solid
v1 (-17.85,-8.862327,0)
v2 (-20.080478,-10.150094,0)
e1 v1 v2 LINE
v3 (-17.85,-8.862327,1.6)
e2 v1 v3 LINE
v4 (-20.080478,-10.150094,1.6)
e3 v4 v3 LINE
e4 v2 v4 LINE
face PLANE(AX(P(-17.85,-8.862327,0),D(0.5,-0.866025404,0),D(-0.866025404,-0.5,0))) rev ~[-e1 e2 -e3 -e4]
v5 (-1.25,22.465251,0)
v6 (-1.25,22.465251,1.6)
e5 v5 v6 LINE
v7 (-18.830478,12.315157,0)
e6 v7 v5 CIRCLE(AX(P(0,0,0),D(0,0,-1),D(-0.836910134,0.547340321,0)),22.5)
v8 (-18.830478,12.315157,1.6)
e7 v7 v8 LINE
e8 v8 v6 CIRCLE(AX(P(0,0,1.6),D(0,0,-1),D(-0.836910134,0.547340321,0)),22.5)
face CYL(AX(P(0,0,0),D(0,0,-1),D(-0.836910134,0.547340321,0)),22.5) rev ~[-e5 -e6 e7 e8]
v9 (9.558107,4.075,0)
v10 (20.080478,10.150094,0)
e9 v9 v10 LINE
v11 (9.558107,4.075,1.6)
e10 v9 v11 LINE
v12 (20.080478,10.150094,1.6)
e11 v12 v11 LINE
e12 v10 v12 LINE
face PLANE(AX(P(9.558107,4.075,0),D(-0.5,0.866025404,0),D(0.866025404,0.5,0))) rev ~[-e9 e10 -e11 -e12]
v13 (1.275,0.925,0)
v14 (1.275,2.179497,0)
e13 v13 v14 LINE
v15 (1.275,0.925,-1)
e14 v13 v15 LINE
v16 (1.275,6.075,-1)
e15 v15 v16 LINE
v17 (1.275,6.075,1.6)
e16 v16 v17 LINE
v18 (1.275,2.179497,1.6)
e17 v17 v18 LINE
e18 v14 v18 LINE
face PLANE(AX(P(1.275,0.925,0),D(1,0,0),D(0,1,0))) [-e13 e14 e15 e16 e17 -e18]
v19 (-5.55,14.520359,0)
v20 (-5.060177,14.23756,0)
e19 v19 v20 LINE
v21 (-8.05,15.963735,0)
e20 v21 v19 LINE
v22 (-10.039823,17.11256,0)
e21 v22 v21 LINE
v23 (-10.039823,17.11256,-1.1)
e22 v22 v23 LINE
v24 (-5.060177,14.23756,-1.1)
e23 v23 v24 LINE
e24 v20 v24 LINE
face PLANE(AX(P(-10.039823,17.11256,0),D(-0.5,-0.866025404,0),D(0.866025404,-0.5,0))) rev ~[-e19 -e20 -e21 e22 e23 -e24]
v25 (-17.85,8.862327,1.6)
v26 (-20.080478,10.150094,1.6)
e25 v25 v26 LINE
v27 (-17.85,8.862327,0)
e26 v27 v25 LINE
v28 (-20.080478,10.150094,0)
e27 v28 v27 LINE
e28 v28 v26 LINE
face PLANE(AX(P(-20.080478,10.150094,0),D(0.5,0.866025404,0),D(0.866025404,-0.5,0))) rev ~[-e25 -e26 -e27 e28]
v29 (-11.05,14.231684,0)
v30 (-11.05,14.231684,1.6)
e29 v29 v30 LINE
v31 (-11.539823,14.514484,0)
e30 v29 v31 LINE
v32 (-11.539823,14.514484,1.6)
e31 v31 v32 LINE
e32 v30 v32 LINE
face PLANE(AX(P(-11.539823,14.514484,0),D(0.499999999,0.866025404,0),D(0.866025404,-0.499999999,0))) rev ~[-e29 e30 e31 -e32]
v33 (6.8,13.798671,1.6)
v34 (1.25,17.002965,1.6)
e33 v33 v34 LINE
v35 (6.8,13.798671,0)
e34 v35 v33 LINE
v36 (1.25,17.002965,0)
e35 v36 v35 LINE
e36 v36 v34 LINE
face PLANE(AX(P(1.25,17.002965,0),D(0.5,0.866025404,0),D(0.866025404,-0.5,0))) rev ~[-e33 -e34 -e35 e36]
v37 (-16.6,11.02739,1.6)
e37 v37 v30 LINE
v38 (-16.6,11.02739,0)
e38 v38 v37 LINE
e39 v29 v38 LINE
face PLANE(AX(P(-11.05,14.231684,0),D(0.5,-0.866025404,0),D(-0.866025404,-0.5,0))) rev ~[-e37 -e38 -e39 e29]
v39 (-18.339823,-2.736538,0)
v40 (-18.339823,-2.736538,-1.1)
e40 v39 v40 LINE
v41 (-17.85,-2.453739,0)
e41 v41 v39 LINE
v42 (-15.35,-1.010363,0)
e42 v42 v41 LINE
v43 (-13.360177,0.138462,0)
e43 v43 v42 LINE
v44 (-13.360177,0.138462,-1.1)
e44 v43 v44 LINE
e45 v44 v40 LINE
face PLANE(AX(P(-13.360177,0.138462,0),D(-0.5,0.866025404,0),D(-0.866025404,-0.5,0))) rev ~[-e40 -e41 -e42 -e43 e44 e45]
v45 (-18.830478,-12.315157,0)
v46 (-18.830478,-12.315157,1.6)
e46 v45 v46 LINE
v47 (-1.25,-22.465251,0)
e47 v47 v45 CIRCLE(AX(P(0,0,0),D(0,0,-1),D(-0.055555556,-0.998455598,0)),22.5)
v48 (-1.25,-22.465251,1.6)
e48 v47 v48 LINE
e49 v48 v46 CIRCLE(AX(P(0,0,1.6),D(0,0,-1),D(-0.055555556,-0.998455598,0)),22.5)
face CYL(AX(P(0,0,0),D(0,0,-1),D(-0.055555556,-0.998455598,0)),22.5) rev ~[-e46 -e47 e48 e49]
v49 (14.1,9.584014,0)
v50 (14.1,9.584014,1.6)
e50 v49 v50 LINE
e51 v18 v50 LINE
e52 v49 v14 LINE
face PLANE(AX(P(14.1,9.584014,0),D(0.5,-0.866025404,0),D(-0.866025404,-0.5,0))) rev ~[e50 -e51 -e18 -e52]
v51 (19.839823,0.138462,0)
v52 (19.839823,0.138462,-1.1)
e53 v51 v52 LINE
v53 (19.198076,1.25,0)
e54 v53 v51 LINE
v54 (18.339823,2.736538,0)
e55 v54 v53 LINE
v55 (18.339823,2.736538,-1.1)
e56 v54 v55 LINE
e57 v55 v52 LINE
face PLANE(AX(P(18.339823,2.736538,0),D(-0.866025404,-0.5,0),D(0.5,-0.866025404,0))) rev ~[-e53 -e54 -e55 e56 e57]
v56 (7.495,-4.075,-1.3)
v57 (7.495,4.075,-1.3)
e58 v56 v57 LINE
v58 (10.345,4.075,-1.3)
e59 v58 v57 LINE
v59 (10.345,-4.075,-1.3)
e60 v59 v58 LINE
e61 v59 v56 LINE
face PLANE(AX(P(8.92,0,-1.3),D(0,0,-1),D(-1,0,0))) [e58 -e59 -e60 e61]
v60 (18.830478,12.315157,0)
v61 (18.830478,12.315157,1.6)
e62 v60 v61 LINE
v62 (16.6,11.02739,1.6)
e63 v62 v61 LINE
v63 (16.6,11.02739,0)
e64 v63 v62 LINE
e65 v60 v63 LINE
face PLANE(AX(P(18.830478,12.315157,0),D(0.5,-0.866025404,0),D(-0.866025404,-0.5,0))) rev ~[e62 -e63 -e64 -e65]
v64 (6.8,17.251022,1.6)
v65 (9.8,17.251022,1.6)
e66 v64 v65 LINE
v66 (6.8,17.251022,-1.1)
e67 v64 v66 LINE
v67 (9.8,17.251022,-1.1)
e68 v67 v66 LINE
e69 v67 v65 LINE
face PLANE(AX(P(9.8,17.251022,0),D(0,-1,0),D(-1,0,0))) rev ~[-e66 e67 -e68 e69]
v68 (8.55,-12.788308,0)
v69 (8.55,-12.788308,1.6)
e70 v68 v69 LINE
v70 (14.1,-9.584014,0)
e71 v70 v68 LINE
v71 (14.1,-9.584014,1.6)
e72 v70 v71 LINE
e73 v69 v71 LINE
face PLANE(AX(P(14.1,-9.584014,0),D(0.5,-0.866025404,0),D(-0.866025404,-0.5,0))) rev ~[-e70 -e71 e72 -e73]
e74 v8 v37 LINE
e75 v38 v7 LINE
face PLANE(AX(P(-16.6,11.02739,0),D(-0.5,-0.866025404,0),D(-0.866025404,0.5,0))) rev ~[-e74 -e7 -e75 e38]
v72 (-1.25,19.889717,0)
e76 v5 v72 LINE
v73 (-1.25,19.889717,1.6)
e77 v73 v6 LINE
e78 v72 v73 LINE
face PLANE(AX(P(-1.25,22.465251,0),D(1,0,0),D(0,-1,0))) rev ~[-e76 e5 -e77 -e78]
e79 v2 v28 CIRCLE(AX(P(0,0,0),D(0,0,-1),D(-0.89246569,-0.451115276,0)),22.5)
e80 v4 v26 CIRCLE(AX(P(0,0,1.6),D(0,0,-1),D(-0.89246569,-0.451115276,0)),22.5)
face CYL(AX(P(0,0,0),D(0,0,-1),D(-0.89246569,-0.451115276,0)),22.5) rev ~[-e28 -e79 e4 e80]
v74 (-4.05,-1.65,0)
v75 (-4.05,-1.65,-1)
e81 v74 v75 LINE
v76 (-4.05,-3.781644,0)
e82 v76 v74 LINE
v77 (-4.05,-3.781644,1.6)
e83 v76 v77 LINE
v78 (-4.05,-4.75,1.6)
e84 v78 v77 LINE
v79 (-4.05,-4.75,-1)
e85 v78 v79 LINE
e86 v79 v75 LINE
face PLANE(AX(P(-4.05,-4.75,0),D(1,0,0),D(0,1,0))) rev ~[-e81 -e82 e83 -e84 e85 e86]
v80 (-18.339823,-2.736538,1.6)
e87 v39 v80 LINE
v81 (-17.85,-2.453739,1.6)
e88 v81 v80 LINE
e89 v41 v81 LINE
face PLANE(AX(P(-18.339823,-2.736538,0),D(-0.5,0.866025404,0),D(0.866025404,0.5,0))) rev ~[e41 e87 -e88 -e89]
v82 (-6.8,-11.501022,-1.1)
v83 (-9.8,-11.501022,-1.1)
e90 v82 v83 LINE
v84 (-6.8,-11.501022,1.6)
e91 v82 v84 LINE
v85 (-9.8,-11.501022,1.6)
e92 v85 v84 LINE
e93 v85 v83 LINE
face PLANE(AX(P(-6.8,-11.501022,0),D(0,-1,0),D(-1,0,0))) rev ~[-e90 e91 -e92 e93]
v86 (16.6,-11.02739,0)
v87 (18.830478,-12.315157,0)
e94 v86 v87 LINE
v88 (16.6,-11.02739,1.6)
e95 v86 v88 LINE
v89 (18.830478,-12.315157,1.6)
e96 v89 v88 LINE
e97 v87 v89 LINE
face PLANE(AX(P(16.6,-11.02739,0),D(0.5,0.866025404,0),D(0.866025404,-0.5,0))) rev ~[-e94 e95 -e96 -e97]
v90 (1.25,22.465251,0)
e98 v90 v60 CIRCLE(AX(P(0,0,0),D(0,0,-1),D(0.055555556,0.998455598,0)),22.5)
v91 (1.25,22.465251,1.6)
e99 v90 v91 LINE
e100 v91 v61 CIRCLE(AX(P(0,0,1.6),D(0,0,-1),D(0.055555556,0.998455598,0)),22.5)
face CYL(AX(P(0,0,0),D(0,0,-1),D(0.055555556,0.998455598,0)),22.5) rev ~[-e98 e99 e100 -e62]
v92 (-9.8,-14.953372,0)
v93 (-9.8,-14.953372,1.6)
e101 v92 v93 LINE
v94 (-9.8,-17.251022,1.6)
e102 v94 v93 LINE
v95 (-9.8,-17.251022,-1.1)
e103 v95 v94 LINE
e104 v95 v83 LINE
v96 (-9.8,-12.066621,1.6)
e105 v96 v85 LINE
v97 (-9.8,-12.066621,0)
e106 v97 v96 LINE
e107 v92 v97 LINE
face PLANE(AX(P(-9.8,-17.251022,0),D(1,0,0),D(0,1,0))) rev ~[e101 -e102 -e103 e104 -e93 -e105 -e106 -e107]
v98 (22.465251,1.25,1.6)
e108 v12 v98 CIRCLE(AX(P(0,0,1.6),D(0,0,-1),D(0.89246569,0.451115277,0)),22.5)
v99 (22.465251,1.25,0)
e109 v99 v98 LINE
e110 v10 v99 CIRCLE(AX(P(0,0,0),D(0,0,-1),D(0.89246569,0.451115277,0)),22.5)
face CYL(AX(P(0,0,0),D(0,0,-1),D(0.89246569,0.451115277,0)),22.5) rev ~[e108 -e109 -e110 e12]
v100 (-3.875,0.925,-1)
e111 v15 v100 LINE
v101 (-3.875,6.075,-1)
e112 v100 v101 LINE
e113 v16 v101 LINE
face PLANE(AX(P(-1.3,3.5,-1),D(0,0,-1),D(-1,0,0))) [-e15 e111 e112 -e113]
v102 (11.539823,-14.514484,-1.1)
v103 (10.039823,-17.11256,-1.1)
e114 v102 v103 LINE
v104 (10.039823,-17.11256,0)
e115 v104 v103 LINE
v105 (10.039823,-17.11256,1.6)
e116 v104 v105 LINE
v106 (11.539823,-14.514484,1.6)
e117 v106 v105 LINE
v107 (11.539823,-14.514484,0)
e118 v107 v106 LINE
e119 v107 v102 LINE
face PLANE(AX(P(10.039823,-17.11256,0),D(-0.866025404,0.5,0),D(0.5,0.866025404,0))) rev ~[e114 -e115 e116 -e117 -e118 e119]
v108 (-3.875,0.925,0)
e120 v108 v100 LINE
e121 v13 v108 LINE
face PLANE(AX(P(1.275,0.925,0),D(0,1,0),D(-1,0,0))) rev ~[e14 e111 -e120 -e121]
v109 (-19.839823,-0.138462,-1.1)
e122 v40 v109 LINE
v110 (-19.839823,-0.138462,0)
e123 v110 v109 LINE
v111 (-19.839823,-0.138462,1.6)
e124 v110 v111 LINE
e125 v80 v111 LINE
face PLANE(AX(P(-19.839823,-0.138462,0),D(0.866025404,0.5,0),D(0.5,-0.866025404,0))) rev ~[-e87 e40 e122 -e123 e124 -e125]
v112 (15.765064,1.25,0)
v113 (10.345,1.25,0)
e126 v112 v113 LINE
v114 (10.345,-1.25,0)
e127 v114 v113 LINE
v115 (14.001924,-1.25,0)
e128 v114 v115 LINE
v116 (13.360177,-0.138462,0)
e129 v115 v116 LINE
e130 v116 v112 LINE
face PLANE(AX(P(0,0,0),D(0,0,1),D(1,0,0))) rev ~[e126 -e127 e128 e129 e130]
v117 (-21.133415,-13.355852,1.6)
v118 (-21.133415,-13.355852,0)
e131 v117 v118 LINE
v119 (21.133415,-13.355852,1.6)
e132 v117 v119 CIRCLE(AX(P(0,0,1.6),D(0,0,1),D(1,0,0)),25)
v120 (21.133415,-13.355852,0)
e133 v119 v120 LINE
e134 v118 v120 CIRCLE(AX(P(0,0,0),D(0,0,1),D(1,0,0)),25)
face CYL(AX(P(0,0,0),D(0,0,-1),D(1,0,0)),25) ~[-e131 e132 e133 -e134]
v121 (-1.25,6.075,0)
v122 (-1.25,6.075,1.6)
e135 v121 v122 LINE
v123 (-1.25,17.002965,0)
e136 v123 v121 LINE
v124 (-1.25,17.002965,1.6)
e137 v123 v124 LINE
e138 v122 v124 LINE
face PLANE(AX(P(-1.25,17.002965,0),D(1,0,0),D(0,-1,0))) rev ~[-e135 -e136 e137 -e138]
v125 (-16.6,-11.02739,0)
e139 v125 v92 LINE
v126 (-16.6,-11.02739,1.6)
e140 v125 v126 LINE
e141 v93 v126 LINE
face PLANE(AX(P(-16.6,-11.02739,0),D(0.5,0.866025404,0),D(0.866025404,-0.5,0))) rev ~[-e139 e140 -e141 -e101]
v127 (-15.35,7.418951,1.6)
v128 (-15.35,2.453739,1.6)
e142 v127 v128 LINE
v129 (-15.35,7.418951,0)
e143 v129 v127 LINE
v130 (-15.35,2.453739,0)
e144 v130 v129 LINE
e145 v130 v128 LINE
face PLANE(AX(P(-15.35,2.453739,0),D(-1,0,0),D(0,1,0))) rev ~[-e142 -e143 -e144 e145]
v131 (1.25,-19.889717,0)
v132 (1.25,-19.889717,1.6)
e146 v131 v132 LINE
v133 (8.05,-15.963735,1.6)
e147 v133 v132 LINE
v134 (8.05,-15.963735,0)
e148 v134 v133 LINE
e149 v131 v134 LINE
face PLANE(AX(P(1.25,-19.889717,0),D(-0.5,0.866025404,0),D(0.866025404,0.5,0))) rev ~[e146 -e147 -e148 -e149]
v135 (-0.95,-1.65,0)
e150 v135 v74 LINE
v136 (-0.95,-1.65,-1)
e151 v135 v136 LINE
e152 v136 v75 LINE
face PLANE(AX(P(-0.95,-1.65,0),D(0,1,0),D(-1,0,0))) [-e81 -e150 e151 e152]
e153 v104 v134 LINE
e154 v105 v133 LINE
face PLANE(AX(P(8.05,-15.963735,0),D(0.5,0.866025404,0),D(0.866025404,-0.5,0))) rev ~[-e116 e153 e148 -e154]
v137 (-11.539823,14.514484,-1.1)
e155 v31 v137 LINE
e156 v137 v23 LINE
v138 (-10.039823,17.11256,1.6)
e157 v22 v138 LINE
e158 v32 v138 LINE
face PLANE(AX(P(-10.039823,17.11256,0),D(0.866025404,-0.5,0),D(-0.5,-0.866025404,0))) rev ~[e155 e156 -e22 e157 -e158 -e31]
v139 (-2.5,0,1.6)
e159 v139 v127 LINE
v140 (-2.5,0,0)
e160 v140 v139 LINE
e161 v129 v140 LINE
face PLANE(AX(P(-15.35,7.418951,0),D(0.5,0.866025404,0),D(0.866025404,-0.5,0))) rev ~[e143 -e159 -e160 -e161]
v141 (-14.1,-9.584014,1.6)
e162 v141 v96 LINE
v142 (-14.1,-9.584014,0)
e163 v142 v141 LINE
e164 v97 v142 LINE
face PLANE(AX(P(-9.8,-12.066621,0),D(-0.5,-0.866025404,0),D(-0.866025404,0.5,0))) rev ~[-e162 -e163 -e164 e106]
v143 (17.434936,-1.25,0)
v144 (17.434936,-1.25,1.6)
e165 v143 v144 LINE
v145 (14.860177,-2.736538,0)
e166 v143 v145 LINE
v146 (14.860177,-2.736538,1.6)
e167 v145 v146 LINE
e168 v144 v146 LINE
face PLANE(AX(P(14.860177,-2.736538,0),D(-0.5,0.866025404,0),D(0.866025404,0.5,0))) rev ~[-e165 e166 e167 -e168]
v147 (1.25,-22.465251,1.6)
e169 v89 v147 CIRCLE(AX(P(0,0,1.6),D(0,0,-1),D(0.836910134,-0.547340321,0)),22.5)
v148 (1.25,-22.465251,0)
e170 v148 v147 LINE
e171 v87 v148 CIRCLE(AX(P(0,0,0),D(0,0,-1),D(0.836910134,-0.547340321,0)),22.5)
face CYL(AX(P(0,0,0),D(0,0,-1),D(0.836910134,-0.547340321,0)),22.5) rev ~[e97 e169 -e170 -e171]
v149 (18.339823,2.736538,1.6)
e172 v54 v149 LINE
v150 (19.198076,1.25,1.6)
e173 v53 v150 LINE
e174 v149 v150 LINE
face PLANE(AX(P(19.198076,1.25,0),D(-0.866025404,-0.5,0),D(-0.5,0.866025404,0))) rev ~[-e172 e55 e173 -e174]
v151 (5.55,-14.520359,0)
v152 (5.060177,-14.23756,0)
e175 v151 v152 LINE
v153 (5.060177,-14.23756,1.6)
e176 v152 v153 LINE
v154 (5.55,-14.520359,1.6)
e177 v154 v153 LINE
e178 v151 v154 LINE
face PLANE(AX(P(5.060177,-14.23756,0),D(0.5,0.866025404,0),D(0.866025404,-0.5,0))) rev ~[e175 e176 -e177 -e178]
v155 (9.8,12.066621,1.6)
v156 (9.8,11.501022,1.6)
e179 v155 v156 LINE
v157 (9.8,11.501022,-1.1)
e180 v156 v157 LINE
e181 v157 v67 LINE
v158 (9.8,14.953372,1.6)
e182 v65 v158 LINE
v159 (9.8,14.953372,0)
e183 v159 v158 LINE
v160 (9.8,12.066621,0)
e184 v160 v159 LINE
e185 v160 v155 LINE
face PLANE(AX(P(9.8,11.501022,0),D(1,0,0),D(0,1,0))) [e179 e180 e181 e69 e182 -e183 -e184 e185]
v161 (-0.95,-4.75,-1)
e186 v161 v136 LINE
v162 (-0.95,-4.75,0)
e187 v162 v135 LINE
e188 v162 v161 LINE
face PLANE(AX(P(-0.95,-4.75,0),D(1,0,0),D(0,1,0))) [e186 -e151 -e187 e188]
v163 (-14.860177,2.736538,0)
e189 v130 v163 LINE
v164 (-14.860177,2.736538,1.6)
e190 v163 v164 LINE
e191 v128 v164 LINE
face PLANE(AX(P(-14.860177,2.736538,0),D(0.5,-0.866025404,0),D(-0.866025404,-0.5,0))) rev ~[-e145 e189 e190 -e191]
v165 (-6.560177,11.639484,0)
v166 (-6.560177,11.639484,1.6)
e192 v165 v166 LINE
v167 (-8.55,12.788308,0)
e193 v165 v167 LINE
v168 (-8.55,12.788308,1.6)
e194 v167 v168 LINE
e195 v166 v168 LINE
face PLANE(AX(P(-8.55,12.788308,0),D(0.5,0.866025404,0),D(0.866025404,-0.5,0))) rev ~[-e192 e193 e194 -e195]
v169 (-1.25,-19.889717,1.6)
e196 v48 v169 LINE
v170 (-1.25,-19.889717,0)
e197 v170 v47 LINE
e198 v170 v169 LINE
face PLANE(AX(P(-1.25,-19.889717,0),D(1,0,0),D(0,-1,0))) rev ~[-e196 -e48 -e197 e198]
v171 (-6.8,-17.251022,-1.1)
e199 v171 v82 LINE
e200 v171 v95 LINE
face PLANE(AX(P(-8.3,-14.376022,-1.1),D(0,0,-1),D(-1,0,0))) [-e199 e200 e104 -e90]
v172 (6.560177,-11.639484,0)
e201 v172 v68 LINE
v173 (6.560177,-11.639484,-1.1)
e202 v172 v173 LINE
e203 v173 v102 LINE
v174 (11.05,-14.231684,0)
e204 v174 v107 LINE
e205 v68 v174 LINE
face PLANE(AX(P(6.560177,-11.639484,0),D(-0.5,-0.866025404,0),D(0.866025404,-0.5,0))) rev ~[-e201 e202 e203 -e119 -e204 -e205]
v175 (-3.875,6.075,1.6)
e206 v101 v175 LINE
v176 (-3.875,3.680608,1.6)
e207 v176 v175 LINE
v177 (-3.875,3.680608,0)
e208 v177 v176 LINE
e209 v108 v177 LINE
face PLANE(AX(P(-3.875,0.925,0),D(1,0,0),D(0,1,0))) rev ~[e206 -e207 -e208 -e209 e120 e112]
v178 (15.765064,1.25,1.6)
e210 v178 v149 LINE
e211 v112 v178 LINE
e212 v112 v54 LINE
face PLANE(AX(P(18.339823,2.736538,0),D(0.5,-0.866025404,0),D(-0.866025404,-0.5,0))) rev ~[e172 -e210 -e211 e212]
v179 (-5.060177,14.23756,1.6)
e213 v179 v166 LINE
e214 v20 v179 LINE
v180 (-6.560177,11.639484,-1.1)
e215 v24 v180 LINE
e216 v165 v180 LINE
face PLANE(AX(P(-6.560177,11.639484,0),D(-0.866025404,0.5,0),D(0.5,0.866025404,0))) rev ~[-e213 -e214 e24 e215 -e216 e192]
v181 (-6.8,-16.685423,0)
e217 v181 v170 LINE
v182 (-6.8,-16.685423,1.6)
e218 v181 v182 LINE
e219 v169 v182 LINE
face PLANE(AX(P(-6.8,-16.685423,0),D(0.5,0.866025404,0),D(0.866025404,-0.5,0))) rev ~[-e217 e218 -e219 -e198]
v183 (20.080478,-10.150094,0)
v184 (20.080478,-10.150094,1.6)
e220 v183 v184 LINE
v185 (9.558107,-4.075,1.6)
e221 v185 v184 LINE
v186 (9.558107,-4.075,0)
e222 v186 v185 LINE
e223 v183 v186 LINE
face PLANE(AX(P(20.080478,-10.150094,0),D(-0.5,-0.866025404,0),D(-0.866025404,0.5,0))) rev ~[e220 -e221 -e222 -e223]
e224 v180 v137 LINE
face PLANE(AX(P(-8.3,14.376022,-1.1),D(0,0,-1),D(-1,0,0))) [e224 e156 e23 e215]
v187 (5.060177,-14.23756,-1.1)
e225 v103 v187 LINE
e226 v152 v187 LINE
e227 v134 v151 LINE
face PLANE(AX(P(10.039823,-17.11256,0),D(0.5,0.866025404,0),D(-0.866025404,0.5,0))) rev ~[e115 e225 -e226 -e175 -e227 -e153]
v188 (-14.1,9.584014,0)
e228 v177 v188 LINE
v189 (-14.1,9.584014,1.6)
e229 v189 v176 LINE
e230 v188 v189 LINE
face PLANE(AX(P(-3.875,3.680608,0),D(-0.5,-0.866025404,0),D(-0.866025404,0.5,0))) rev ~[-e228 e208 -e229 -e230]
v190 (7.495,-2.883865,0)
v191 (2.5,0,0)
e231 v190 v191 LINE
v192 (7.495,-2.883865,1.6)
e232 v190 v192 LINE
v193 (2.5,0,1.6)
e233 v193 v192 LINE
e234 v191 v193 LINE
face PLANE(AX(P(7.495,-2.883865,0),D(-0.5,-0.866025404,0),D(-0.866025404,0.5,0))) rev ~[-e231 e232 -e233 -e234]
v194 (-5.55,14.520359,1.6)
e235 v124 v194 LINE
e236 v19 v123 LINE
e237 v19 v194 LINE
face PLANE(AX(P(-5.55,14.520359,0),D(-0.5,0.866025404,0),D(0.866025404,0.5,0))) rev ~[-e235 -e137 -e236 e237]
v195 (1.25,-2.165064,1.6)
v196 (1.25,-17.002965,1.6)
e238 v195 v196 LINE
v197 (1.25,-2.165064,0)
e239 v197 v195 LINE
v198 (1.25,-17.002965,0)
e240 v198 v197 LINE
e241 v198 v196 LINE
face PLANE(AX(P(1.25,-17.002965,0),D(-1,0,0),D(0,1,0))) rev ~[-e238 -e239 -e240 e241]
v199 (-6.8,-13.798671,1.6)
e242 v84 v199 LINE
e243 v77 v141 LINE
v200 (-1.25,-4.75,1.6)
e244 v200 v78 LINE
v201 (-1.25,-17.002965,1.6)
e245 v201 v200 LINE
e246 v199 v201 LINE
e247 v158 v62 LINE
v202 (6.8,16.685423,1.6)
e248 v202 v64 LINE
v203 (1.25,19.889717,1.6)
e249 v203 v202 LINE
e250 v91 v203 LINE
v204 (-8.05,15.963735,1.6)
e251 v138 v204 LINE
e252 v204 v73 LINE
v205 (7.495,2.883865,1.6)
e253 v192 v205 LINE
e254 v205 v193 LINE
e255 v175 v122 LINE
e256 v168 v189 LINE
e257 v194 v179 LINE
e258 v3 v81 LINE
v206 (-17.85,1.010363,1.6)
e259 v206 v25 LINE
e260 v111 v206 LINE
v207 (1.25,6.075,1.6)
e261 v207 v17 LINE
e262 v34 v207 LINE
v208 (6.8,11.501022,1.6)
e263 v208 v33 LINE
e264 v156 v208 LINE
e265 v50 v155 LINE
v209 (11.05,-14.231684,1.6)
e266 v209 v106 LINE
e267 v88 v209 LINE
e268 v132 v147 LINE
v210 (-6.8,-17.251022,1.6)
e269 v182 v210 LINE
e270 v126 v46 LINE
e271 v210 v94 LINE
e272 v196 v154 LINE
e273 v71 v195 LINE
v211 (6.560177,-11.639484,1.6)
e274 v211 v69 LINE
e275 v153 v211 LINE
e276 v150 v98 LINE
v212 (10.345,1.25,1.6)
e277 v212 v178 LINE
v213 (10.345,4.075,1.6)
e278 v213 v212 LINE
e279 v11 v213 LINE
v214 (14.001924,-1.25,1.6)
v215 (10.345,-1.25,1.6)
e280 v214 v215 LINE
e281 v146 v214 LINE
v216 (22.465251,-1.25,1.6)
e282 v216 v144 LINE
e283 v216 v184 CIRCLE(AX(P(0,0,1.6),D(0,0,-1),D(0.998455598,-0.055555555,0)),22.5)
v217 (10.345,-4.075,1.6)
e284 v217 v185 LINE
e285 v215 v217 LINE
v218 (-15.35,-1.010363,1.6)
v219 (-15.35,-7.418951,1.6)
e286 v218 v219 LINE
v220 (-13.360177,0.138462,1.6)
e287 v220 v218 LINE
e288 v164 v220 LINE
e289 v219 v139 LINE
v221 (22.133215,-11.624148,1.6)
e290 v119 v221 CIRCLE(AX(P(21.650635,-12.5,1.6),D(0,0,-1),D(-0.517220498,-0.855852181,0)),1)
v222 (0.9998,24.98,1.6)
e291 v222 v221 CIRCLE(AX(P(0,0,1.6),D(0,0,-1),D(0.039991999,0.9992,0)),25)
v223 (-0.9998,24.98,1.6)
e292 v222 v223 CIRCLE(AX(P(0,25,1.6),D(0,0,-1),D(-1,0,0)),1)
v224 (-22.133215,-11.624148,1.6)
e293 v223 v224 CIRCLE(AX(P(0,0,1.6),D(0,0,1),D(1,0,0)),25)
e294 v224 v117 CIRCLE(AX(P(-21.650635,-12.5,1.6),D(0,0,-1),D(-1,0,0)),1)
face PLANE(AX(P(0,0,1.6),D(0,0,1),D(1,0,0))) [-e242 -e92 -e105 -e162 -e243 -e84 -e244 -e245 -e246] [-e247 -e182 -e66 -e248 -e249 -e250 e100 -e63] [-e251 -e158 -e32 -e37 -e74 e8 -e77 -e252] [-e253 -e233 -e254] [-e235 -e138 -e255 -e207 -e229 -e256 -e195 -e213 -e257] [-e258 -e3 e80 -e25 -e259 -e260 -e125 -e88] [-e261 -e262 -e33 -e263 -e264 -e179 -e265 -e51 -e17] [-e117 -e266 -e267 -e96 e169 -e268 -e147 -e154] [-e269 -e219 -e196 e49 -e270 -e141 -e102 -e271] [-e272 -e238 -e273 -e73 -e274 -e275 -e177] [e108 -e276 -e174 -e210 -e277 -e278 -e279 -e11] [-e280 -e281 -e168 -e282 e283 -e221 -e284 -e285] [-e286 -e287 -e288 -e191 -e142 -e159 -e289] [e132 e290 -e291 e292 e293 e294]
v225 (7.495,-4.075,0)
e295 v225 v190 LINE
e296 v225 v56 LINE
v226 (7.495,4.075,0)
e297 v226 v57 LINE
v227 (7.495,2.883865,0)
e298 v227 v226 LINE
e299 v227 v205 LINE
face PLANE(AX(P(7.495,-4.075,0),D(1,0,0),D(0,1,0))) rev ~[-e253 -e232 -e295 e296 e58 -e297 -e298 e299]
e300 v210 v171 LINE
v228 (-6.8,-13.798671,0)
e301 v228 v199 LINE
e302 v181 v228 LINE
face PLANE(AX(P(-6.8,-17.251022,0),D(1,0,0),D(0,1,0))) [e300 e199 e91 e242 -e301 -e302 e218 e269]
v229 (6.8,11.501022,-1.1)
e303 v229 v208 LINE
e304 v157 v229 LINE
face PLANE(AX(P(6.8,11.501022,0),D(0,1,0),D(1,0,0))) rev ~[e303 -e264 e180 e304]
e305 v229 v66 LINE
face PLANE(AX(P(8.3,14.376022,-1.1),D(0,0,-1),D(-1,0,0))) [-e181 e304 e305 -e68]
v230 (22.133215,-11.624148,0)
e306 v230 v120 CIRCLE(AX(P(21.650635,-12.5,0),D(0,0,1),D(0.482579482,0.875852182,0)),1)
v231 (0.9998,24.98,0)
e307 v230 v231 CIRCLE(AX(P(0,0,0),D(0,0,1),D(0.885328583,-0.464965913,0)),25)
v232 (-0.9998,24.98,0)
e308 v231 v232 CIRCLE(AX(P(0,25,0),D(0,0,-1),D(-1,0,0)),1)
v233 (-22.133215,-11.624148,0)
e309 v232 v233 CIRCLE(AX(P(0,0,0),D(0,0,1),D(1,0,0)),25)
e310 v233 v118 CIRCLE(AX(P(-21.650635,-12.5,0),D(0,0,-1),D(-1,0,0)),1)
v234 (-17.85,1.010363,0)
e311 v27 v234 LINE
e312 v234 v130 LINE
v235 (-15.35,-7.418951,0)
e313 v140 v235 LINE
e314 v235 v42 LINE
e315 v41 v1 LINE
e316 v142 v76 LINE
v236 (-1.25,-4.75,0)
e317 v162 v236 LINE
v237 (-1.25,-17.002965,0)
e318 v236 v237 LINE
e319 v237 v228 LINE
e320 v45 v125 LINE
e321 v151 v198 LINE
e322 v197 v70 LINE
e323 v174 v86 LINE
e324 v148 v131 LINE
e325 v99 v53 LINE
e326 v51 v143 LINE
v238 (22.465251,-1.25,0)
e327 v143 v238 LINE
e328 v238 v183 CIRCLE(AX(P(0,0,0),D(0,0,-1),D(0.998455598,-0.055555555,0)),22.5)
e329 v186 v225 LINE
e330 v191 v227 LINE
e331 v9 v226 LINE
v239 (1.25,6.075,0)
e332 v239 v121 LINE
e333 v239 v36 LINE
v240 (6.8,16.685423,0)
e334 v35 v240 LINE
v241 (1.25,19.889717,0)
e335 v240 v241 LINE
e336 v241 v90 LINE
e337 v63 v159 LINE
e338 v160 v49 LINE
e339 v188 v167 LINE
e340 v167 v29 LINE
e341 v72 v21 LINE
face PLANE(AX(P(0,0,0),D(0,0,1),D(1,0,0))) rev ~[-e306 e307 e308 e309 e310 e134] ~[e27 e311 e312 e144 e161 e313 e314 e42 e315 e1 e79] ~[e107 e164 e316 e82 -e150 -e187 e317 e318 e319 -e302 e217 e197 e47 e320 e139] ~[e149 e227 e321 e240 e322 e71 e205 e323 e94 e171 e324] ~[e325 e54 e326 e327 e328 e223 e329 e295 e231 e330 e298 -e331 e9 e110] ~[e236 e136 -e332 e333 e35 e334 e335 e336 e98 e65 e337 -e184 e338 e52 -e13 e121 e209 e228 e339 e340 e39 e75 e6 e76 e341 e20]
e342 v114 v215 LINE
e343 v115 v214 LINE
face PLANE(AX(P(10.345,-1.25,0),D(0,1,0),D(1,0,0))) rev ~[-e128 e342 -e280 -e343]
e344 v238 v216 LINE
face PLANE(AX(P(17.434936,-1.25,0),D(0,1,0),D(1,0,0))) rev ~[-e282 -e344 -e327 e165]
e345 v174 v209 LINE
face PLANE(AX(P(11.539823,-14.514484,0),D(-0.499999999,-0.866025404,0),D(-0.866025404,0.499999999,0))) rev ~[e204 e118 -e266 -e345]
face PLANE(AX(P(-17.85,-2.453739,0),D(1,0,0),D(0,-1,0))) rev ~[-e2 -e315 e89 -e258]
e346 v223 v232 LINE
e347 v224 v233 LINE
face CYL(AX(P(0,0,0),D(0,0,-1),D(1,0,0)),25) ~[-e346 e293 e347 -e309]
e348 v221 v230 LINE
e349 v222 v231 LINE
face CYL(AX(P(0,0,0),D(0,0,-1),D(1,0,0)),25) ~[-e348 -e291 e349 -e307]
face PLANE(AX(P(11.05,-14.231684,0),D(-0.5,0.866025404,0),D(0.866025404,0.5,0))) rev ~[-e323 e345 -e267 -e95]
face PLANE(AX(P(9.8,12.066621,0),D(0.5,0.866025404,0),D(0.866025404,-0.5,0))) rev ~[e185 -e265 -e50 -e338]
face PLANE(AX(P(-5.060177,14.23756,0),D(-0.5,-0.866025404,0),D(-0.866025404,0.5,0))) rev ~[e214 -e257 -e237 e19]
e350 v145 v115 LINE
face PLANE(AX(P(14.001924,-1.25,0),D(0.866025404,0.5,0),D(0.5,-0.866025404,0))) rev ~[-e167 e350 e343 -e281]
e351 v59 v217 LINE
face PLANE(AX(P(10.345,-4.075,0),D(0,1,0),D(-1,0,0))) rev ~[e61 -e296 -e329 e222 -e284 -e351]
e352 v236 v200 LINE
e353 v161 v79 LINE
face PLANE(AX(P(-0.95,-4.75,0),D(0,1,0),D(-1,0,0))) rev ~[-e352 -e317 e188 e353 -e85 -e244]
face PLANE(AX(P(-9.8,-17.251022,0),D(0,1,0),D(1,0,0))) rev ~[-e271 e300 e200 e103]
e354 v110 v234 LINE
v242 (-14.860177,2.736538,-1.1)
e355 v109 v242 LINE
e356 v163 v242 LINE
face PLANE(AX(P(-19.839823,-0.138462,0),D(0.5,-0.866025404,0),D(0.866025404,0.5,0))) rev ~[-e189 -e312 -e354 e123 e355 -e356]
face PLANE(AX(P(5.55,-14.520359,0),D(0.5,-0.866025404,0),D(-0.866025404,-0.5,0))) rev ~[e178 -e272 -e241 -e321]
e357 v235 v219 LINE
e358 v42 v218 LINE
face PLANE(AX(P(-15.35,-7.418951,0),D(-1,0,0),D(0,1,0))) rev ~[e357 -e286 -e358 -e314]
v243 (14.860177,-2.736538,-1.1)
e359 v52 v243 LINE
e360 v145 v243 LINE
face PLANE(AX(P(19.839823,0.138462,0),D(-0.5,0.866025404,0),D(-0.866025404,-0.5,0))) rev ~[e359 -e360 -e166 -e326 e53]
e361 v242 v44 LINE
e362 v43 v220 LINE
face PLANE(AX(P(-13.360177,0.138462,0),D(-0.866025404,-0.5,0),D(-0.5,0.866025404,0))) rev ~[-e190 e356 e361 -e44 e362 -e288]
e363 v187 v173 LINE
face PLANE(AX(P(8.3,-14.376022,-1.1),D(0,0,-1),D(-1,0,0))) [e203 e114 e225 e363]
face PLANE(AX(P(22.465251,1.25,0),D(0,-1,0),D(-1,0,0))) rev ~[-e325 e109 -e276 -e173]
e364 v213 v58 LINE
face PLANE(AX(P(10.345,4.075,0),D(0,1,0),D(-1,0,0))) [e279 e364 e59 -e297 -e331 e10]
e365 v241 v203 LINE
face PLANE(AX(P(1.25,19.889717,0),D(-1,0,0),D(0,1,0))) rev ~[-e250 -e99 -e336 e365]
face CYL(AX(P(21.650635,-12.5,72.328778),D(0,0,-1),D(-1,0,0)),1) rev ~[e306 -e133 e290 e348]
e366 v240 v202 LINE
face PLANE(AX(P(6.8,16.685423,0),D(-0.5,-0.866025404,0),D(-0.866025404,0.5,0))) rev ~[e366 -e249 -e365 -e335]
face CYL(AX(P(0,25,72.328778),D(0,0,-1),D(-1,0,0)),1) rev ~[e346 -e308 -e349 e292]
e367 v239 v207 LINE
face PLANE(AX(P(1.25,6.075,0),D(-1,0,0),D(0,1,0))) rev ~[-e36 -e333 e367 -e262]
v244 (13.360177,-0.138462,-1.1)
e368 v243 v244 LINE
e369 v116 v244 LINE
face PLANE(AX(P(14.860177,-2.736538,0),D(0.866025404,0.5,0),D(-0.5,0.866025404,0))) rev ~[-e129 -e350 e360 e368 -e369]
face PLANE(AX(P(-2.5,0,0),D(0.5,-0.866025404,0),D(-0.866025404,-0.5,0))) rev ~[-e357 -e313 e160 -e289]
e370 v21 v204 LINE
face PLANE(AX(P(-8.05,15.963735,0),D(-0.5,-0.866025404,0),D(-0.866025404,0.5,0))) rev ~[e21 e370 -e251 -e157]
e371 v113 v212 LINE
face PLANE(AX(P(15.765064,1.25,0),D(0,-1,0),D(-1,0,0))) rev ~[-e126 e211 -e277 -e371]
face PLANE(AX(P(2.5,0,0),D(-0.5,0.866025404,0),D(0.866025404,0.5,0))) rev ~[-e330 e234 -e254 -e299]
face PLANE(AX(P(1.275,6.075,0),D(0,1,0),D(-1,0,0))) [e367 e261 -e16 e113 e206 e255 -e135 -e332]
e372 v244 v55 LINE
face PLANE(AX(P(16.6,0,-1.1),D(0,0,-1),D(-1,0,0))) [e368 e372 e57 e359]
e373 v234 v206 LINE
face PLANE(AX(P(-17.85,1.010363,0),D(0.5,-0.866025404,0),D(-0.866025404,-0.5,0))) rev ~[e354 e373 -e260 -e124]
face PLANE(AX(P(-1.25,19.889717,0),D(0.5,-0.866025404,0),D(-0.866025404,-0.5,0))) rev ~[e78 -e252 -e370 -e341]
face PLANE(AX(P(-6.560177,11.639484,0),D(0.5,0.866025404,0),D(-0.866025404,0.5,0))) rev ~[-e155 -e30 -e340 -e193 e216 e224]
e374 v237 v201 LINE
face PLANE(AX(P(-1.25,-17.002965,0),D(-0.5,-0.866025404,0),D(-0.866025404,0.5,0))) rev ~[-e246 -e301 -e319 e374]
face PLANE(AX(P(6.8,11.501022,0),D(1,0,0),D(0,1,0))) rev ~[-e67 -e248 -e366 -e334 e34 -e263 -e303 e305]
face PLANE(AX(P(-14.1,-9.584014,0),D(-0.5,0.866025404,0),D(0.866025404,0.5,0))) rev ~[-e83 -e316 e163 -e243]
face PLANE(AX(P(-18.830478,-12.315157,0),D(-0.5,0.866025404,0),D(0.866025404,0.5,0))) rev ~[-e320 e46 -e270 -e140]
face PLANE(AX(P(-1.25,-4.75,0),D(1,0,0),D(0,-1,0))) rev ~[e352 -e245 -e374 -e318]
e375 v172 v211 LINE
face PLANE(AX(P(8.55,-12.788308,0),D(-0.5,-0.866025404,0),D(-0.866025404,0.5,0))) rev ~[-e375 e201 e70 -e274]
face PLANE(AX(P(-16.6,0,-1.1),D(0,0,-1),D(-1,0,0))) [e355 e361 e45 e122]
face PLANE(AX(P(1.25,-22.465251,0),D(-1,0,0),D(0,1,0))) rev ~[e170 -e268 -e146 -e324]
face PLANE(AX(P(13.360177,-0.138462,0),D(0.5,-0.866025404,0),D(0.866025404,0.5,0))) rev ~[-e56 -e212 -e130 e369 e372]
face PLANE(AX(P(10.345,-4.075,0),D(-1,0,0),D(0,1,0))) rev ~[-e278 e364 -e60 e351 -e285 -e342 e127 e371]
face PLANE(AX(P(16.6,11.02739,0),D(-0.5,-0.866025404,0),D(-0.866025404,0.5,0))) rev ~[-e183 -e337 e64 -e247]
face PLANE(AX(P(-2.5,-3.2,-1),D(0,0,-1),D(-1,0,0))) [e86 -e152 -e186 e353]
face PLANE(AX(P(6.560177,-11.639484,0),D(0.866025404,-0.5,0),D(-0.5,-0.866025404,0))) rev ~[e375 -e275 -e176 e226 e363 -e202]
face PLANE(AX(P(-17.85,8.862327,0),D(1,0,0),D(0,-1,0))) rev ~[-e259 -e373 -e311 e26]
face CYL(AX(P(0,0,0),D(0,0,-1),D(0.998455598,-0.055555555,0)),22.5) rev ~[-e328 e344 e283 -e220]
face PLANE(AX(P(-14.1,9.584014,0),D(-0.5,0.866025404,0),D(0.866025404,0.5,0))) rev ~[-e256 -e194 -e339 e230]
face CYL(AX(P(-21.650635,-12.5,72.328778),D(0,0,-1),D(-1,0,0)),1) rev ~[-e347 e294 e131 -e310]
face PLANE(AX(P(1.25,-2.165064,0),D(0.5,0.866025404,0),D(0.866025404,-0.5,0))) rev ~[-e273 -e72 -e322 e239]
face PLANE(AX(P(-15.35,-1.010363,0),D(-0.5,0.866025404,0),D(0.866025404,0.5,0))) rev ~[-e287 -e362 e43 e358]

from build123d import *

# Parameters (mm, degrees)
BASE_SKETCH_R        = 25
BOARD_DEPTH          = 1.6
ALIGNMENT_SLOTS_D    = 2
EXTRUSION_BASE_W     = 3
EXTRUSION_BASE_H     = 5.75
LEDS_DEPTH           = 1.1
EXTRUSION_BASE_3_W   = 5.15
EXTRUSION_BASE_3_H   = 5.15
EXTRUSION_BASE_3_W_2 = 3.1
EXTRUSION_BASE_3_H_2 = 3.1
ICS_DEPTH            = 1
EXTRUSION_BASE_4_W   = 2.85
EXTRUSION_BASE_4_H   = 8.15
CONNECTOR_DEPTH      = 1.3
EXTRA_MASS_CUT_DEPTH = 36.391524409


with BuildPart() as part:
    # Base sketch → Board (new body)
    with BuildSketch(Plane.XY):
        Circle(BASE_SKETCH_R)
    extrude(amount=BOARD_DEPTH)

    # Alignment slots (through all)
    with Locations(Plane.XY.offset(1.6)):
        with Locations((0, 25), (21.650635095, -12.5), (-21.650635095, -12.5)):
            Hole(ALIGNMENT_SLOTS_D / 2)

    # Extrusion base → LEDs (add)
    with BuildSketch(Plane(origin=(0, 0, 0), x_dir=(-1, 0, 0), z_dir=(0, 0, -1))):
        Polygon((11.539823036, 14.514483597), (10.039823036, 17.112559808), (5.060176964, 14.237559808), (6.560176964, 11.639483597), align=None)
        with Locations((-8.3, 14.376021703)):
            Rectangle(EXTRUSION_BASE_W, EXTRUSION_BASE_H)
        Polygon((18.339823036, -2.736538106), (19.839823036, -0.138461894), (14.860176964, 2.736538106), (13.360176964, 0.138461894), align=None)
        with Locations((8.3, -14.376021703)):
            Rectangle(EXTRUSION_BASE_W, EXTRUSION_BASE_H)
        Polygon((-11.539823036, -14.514483597), (-10.039823036, -17.112559808), (-5.060176964, -14.237559808), (-6.560176964, -11.639483597), align=None)
        Polygon((-18.339823036, 2.736538106), (-19.839823036, 0.138461894), (-14.860176964, -2.736538106), (-13.360176964, -0.138461894), align=None)
    extrude(amount=LEDS_DEPTH)

    # Extrusion base<3> → ICs (add)
    with BuildSketch(Plane(origin=(0, 0, 0), x_dir=(-1, 0, 0), z_dir=(0, 0, -1))):
        with Locations((1.3, 3.5)):
            Rectangle(EXTRUSION_BASE_3_W, EXTRUSION_BASE_3_H)
        with Locations((2.5, -3.2)):
            Rectangle(EXTRUSION_BASE_3_W_2, EXTRUSION_BASE_3_H_2)
    extrude(amount=ICS_DEPTH)

    # Extrusion base<4> → Connector (add)
    with BuildSketch(Plane(origin=(0, 0, 0), x_dir=(-1, 0, 0), z_dir=(0, 0, -1))):
        with Locations((-8.92, 0)):
            Rectangle(EXTRUSION_BASE_4_W, EXTRUSION_BASE_4_H)
    extrude(amount=CONNECTOR_DEPTH)

    # Negative base → Extra mass cut (cut, through all)
    with BuildSketch(Plane(origin=(0, 0, 0), x_dir=(-1, 0, 0), z_dir=(0, 0, -1))):
        Polygon((3.875, 3.680607966), (14.1, 9.584014469), (8.55, 12.788308463), (6.560176964, 11.639483597), (5.060176964, 14.237559808), (5.55, 14.52035927), (1.25, 17.002965428), (1.25, 6.075), (3.875, 6.075), align=None)
        with BuildLine():
            Line((11.05, 14.231684136), (16.6, 11.027390142))
            Line((16.6, 11.027390142), (18.83047802, 12.315157227))
            ThreePointArc((18.83047802, 12.315157227), (11.25, 19.485571585), (1.25, 22.465250945))
            Line((1.25, 22.465250945), (1.25, 19.889716774))
            Line((1.25, 19.889716774), (8.05, 15.963734943))
            Line((8.05, 15.963734943), (10.039823036, 17.112559808))
            Line((10.039823036, 17.112559808), (11.539823036, 14.514483597))
            Line((11.539823036, 14.514483597), (11.05, 14.231684136))
        make_face()
        with BuildLine():
            ThreePointArc((20.08047802, -10.150093718), (22.5, 0), (20.08047802, 10.150093718))
            Line((20.08047802, 10.150093718), (17.85, 8.862326632))
            Line((17.85, 8.862326632), (17.85, 1.010362971))
            Line((17.85, 1.010362971), (19.839823036, -0.138461894))
            Line((19.839823036, -0.138461894), (18.339823036, -2.736538106))
            Line((18.339823036, -2.736538106), (17.85, -2.453738644))
            Line((17.85, -2.453738644), (17.85, -8.862326632))
            Line((17.85, -8.862326632), (20.08047802, -10.150093718))
        make_face()
        with BuildLine():
            Line((-1.25, 19.889716774), (-1.25, 22.465250945))
            ThreePointArc((-1.25, 22.465250945), (-11.25, 19.485571585), (-18.83047802, 12.315157227))
            Line((-18.83047802, 12.315157227), (-16.6, 11.027390142))
            Line((-16.6, 11.027390142), (-9.8, 14.953371972))
            Line((-9.8, 14.953371972), (-9.8, 17.251021703))
            Line((-9.8, 17.251021703), (-6.8, 17.251021703))
            Line((-6.8, 17.251021703), (-6.8, 16.68542278))
            Line((-6.8, 16.68542278), (-1.25, 19.889716774))
        make_face()
        Polygon((-1.275, 6.075), (-1.25, 6.075), (-1.25, 17.002965428), (-6.8, 13.798671434), (-6.8, 11.501021703), (-9.8, 11.501021703), (-9.8, 12.066620626), (-14.1, 9.584014469), (-1.275, 2.179497266), align=None)
        Polygon((15.35, 2.453738644), (15.35, 7.418950959), (2.5, 0), (15.35, -7.418950959), (15.35, -1.010362971), (13.360176964, 0.138461894), (14.860176964, 2.736538106), align=None)
        with BuildLine():
            ThreePointArc((1.25, -22.465250945), (11.25, -19.485571585), (18.83047802, -12.315157227))
            Line((18.83047802, -12.315157227), (16.6, -11.027390142))
            Line((16.6, -11.027390142), (9.8, -14.953371972))
            Line((9.8, -14.953371972), (9.8, -17.251021703))
            Line((9.8, -17.251021703), (6.8, -17.251021703))
            Line((6.8, -17.251021703), (6.8, -16.68542278))
            Line((6.8, -16.68542278), (1.25, -19.889716774))
            Line((1.25, -19.889716774), (1.25, -22.465250945))
        make_face()
        with BuildLine():
            Line((-9.558107041, 4.075), (-20.08047802, 10.150093718))
            ThreePointArc((-20.08047802, 10.150093718), (-21.733331092, 5.823428515), (-22.465250945, 1.25))
            Line((-22.465250945, 1.25), (-19.198076211, 1.25))
            Line((-19.198076211, 1.25), (-18.339823036, 2.736538106))
            Line((-18.339823036, 2.736538106), (-15.765063509, 1.25))
            Line((-15.765063509, 1.25), (-10.345, 1.25))
            Line((-10.345, 1.25), (-10.345, 4.075))
            Line((-10.345, 4.075), (-9.558107041, 4.075))
        make_face()
        Polygon((-7.495, -2.883864595), (-2.5, 0), (-7.495, 2.883864595), align=None)
        Polygon((-1.25, -17.002965428), (-1.25, -2.165063509), (-14.1, -9.584014469), (-8.55, -12.788308463), (-6.560176964, -11.639483597), (-5.060176964, -14.237559808), (-5.55, -14.52035927), align=None)
        Polygon((9.8, -12.066620626), (14.1, -9.584014469), (4.05, -3.781644263), (4.05, -4.75), (1.25, -4.75), (1.25, -17.002965428), (6.8, -13.798671434), (6.8, -11.501021703), (9.8, -11.501021703), align=None)
        with BuildLine():
            ThreePointArc((-18.83047802, -12.315157227), (-11.25, -19.485571585), (-1.25, -22.465250945))
            Line((-1.25, -22.465250945), (-1.25, -19.889716774))
            Line((-1.25, -19.889716774), (-8.05, -15.963734943))
            Line((-8.05, -15.963734943), (-10.039823036, -17.112559808))
            Line((-10.039823036, -17.112559808), (-11.539823036, -14.514483597))
            Line((-11.539823036, -14.514483597), (-11.05, -14.231684136))
            Line((-11.05, -14.231684136), (-16.6, -11.027390142))
            Line((-16.6, -11.027390142), (-18.83047802, -12.315157227))
        make_face()
        with BuildLine():
            Line((-17.434936491, -1.25), (-22.465250945, -1.25))
            ThreePointArc((-22.465250945, -1.25), (-21.733331092, -5.823428515), (-20.08047802, -10.150093718))
            Line((-20.08047802, -10.150093718), (-9.558107041, -4.075))
            Line((-9.558107041, -4.075), (-10.345, -4.075))
            Line((-10.345, -4.075), (-10.345, -1.25))
            Line((-10.345, -1.25), (-14.001923789, -1.25))
            Line((-14.001923789, -1.25), (-14.860176964, -2.736538106))
            Line((-14.860176964, -2.736538106), (-17.434936491, -1.25))
        make_face()
    extrude(amount=-EXTRA_MASS_CUT_DEPTH, mode=Mode.SUBTRACT)


solid = part.part
